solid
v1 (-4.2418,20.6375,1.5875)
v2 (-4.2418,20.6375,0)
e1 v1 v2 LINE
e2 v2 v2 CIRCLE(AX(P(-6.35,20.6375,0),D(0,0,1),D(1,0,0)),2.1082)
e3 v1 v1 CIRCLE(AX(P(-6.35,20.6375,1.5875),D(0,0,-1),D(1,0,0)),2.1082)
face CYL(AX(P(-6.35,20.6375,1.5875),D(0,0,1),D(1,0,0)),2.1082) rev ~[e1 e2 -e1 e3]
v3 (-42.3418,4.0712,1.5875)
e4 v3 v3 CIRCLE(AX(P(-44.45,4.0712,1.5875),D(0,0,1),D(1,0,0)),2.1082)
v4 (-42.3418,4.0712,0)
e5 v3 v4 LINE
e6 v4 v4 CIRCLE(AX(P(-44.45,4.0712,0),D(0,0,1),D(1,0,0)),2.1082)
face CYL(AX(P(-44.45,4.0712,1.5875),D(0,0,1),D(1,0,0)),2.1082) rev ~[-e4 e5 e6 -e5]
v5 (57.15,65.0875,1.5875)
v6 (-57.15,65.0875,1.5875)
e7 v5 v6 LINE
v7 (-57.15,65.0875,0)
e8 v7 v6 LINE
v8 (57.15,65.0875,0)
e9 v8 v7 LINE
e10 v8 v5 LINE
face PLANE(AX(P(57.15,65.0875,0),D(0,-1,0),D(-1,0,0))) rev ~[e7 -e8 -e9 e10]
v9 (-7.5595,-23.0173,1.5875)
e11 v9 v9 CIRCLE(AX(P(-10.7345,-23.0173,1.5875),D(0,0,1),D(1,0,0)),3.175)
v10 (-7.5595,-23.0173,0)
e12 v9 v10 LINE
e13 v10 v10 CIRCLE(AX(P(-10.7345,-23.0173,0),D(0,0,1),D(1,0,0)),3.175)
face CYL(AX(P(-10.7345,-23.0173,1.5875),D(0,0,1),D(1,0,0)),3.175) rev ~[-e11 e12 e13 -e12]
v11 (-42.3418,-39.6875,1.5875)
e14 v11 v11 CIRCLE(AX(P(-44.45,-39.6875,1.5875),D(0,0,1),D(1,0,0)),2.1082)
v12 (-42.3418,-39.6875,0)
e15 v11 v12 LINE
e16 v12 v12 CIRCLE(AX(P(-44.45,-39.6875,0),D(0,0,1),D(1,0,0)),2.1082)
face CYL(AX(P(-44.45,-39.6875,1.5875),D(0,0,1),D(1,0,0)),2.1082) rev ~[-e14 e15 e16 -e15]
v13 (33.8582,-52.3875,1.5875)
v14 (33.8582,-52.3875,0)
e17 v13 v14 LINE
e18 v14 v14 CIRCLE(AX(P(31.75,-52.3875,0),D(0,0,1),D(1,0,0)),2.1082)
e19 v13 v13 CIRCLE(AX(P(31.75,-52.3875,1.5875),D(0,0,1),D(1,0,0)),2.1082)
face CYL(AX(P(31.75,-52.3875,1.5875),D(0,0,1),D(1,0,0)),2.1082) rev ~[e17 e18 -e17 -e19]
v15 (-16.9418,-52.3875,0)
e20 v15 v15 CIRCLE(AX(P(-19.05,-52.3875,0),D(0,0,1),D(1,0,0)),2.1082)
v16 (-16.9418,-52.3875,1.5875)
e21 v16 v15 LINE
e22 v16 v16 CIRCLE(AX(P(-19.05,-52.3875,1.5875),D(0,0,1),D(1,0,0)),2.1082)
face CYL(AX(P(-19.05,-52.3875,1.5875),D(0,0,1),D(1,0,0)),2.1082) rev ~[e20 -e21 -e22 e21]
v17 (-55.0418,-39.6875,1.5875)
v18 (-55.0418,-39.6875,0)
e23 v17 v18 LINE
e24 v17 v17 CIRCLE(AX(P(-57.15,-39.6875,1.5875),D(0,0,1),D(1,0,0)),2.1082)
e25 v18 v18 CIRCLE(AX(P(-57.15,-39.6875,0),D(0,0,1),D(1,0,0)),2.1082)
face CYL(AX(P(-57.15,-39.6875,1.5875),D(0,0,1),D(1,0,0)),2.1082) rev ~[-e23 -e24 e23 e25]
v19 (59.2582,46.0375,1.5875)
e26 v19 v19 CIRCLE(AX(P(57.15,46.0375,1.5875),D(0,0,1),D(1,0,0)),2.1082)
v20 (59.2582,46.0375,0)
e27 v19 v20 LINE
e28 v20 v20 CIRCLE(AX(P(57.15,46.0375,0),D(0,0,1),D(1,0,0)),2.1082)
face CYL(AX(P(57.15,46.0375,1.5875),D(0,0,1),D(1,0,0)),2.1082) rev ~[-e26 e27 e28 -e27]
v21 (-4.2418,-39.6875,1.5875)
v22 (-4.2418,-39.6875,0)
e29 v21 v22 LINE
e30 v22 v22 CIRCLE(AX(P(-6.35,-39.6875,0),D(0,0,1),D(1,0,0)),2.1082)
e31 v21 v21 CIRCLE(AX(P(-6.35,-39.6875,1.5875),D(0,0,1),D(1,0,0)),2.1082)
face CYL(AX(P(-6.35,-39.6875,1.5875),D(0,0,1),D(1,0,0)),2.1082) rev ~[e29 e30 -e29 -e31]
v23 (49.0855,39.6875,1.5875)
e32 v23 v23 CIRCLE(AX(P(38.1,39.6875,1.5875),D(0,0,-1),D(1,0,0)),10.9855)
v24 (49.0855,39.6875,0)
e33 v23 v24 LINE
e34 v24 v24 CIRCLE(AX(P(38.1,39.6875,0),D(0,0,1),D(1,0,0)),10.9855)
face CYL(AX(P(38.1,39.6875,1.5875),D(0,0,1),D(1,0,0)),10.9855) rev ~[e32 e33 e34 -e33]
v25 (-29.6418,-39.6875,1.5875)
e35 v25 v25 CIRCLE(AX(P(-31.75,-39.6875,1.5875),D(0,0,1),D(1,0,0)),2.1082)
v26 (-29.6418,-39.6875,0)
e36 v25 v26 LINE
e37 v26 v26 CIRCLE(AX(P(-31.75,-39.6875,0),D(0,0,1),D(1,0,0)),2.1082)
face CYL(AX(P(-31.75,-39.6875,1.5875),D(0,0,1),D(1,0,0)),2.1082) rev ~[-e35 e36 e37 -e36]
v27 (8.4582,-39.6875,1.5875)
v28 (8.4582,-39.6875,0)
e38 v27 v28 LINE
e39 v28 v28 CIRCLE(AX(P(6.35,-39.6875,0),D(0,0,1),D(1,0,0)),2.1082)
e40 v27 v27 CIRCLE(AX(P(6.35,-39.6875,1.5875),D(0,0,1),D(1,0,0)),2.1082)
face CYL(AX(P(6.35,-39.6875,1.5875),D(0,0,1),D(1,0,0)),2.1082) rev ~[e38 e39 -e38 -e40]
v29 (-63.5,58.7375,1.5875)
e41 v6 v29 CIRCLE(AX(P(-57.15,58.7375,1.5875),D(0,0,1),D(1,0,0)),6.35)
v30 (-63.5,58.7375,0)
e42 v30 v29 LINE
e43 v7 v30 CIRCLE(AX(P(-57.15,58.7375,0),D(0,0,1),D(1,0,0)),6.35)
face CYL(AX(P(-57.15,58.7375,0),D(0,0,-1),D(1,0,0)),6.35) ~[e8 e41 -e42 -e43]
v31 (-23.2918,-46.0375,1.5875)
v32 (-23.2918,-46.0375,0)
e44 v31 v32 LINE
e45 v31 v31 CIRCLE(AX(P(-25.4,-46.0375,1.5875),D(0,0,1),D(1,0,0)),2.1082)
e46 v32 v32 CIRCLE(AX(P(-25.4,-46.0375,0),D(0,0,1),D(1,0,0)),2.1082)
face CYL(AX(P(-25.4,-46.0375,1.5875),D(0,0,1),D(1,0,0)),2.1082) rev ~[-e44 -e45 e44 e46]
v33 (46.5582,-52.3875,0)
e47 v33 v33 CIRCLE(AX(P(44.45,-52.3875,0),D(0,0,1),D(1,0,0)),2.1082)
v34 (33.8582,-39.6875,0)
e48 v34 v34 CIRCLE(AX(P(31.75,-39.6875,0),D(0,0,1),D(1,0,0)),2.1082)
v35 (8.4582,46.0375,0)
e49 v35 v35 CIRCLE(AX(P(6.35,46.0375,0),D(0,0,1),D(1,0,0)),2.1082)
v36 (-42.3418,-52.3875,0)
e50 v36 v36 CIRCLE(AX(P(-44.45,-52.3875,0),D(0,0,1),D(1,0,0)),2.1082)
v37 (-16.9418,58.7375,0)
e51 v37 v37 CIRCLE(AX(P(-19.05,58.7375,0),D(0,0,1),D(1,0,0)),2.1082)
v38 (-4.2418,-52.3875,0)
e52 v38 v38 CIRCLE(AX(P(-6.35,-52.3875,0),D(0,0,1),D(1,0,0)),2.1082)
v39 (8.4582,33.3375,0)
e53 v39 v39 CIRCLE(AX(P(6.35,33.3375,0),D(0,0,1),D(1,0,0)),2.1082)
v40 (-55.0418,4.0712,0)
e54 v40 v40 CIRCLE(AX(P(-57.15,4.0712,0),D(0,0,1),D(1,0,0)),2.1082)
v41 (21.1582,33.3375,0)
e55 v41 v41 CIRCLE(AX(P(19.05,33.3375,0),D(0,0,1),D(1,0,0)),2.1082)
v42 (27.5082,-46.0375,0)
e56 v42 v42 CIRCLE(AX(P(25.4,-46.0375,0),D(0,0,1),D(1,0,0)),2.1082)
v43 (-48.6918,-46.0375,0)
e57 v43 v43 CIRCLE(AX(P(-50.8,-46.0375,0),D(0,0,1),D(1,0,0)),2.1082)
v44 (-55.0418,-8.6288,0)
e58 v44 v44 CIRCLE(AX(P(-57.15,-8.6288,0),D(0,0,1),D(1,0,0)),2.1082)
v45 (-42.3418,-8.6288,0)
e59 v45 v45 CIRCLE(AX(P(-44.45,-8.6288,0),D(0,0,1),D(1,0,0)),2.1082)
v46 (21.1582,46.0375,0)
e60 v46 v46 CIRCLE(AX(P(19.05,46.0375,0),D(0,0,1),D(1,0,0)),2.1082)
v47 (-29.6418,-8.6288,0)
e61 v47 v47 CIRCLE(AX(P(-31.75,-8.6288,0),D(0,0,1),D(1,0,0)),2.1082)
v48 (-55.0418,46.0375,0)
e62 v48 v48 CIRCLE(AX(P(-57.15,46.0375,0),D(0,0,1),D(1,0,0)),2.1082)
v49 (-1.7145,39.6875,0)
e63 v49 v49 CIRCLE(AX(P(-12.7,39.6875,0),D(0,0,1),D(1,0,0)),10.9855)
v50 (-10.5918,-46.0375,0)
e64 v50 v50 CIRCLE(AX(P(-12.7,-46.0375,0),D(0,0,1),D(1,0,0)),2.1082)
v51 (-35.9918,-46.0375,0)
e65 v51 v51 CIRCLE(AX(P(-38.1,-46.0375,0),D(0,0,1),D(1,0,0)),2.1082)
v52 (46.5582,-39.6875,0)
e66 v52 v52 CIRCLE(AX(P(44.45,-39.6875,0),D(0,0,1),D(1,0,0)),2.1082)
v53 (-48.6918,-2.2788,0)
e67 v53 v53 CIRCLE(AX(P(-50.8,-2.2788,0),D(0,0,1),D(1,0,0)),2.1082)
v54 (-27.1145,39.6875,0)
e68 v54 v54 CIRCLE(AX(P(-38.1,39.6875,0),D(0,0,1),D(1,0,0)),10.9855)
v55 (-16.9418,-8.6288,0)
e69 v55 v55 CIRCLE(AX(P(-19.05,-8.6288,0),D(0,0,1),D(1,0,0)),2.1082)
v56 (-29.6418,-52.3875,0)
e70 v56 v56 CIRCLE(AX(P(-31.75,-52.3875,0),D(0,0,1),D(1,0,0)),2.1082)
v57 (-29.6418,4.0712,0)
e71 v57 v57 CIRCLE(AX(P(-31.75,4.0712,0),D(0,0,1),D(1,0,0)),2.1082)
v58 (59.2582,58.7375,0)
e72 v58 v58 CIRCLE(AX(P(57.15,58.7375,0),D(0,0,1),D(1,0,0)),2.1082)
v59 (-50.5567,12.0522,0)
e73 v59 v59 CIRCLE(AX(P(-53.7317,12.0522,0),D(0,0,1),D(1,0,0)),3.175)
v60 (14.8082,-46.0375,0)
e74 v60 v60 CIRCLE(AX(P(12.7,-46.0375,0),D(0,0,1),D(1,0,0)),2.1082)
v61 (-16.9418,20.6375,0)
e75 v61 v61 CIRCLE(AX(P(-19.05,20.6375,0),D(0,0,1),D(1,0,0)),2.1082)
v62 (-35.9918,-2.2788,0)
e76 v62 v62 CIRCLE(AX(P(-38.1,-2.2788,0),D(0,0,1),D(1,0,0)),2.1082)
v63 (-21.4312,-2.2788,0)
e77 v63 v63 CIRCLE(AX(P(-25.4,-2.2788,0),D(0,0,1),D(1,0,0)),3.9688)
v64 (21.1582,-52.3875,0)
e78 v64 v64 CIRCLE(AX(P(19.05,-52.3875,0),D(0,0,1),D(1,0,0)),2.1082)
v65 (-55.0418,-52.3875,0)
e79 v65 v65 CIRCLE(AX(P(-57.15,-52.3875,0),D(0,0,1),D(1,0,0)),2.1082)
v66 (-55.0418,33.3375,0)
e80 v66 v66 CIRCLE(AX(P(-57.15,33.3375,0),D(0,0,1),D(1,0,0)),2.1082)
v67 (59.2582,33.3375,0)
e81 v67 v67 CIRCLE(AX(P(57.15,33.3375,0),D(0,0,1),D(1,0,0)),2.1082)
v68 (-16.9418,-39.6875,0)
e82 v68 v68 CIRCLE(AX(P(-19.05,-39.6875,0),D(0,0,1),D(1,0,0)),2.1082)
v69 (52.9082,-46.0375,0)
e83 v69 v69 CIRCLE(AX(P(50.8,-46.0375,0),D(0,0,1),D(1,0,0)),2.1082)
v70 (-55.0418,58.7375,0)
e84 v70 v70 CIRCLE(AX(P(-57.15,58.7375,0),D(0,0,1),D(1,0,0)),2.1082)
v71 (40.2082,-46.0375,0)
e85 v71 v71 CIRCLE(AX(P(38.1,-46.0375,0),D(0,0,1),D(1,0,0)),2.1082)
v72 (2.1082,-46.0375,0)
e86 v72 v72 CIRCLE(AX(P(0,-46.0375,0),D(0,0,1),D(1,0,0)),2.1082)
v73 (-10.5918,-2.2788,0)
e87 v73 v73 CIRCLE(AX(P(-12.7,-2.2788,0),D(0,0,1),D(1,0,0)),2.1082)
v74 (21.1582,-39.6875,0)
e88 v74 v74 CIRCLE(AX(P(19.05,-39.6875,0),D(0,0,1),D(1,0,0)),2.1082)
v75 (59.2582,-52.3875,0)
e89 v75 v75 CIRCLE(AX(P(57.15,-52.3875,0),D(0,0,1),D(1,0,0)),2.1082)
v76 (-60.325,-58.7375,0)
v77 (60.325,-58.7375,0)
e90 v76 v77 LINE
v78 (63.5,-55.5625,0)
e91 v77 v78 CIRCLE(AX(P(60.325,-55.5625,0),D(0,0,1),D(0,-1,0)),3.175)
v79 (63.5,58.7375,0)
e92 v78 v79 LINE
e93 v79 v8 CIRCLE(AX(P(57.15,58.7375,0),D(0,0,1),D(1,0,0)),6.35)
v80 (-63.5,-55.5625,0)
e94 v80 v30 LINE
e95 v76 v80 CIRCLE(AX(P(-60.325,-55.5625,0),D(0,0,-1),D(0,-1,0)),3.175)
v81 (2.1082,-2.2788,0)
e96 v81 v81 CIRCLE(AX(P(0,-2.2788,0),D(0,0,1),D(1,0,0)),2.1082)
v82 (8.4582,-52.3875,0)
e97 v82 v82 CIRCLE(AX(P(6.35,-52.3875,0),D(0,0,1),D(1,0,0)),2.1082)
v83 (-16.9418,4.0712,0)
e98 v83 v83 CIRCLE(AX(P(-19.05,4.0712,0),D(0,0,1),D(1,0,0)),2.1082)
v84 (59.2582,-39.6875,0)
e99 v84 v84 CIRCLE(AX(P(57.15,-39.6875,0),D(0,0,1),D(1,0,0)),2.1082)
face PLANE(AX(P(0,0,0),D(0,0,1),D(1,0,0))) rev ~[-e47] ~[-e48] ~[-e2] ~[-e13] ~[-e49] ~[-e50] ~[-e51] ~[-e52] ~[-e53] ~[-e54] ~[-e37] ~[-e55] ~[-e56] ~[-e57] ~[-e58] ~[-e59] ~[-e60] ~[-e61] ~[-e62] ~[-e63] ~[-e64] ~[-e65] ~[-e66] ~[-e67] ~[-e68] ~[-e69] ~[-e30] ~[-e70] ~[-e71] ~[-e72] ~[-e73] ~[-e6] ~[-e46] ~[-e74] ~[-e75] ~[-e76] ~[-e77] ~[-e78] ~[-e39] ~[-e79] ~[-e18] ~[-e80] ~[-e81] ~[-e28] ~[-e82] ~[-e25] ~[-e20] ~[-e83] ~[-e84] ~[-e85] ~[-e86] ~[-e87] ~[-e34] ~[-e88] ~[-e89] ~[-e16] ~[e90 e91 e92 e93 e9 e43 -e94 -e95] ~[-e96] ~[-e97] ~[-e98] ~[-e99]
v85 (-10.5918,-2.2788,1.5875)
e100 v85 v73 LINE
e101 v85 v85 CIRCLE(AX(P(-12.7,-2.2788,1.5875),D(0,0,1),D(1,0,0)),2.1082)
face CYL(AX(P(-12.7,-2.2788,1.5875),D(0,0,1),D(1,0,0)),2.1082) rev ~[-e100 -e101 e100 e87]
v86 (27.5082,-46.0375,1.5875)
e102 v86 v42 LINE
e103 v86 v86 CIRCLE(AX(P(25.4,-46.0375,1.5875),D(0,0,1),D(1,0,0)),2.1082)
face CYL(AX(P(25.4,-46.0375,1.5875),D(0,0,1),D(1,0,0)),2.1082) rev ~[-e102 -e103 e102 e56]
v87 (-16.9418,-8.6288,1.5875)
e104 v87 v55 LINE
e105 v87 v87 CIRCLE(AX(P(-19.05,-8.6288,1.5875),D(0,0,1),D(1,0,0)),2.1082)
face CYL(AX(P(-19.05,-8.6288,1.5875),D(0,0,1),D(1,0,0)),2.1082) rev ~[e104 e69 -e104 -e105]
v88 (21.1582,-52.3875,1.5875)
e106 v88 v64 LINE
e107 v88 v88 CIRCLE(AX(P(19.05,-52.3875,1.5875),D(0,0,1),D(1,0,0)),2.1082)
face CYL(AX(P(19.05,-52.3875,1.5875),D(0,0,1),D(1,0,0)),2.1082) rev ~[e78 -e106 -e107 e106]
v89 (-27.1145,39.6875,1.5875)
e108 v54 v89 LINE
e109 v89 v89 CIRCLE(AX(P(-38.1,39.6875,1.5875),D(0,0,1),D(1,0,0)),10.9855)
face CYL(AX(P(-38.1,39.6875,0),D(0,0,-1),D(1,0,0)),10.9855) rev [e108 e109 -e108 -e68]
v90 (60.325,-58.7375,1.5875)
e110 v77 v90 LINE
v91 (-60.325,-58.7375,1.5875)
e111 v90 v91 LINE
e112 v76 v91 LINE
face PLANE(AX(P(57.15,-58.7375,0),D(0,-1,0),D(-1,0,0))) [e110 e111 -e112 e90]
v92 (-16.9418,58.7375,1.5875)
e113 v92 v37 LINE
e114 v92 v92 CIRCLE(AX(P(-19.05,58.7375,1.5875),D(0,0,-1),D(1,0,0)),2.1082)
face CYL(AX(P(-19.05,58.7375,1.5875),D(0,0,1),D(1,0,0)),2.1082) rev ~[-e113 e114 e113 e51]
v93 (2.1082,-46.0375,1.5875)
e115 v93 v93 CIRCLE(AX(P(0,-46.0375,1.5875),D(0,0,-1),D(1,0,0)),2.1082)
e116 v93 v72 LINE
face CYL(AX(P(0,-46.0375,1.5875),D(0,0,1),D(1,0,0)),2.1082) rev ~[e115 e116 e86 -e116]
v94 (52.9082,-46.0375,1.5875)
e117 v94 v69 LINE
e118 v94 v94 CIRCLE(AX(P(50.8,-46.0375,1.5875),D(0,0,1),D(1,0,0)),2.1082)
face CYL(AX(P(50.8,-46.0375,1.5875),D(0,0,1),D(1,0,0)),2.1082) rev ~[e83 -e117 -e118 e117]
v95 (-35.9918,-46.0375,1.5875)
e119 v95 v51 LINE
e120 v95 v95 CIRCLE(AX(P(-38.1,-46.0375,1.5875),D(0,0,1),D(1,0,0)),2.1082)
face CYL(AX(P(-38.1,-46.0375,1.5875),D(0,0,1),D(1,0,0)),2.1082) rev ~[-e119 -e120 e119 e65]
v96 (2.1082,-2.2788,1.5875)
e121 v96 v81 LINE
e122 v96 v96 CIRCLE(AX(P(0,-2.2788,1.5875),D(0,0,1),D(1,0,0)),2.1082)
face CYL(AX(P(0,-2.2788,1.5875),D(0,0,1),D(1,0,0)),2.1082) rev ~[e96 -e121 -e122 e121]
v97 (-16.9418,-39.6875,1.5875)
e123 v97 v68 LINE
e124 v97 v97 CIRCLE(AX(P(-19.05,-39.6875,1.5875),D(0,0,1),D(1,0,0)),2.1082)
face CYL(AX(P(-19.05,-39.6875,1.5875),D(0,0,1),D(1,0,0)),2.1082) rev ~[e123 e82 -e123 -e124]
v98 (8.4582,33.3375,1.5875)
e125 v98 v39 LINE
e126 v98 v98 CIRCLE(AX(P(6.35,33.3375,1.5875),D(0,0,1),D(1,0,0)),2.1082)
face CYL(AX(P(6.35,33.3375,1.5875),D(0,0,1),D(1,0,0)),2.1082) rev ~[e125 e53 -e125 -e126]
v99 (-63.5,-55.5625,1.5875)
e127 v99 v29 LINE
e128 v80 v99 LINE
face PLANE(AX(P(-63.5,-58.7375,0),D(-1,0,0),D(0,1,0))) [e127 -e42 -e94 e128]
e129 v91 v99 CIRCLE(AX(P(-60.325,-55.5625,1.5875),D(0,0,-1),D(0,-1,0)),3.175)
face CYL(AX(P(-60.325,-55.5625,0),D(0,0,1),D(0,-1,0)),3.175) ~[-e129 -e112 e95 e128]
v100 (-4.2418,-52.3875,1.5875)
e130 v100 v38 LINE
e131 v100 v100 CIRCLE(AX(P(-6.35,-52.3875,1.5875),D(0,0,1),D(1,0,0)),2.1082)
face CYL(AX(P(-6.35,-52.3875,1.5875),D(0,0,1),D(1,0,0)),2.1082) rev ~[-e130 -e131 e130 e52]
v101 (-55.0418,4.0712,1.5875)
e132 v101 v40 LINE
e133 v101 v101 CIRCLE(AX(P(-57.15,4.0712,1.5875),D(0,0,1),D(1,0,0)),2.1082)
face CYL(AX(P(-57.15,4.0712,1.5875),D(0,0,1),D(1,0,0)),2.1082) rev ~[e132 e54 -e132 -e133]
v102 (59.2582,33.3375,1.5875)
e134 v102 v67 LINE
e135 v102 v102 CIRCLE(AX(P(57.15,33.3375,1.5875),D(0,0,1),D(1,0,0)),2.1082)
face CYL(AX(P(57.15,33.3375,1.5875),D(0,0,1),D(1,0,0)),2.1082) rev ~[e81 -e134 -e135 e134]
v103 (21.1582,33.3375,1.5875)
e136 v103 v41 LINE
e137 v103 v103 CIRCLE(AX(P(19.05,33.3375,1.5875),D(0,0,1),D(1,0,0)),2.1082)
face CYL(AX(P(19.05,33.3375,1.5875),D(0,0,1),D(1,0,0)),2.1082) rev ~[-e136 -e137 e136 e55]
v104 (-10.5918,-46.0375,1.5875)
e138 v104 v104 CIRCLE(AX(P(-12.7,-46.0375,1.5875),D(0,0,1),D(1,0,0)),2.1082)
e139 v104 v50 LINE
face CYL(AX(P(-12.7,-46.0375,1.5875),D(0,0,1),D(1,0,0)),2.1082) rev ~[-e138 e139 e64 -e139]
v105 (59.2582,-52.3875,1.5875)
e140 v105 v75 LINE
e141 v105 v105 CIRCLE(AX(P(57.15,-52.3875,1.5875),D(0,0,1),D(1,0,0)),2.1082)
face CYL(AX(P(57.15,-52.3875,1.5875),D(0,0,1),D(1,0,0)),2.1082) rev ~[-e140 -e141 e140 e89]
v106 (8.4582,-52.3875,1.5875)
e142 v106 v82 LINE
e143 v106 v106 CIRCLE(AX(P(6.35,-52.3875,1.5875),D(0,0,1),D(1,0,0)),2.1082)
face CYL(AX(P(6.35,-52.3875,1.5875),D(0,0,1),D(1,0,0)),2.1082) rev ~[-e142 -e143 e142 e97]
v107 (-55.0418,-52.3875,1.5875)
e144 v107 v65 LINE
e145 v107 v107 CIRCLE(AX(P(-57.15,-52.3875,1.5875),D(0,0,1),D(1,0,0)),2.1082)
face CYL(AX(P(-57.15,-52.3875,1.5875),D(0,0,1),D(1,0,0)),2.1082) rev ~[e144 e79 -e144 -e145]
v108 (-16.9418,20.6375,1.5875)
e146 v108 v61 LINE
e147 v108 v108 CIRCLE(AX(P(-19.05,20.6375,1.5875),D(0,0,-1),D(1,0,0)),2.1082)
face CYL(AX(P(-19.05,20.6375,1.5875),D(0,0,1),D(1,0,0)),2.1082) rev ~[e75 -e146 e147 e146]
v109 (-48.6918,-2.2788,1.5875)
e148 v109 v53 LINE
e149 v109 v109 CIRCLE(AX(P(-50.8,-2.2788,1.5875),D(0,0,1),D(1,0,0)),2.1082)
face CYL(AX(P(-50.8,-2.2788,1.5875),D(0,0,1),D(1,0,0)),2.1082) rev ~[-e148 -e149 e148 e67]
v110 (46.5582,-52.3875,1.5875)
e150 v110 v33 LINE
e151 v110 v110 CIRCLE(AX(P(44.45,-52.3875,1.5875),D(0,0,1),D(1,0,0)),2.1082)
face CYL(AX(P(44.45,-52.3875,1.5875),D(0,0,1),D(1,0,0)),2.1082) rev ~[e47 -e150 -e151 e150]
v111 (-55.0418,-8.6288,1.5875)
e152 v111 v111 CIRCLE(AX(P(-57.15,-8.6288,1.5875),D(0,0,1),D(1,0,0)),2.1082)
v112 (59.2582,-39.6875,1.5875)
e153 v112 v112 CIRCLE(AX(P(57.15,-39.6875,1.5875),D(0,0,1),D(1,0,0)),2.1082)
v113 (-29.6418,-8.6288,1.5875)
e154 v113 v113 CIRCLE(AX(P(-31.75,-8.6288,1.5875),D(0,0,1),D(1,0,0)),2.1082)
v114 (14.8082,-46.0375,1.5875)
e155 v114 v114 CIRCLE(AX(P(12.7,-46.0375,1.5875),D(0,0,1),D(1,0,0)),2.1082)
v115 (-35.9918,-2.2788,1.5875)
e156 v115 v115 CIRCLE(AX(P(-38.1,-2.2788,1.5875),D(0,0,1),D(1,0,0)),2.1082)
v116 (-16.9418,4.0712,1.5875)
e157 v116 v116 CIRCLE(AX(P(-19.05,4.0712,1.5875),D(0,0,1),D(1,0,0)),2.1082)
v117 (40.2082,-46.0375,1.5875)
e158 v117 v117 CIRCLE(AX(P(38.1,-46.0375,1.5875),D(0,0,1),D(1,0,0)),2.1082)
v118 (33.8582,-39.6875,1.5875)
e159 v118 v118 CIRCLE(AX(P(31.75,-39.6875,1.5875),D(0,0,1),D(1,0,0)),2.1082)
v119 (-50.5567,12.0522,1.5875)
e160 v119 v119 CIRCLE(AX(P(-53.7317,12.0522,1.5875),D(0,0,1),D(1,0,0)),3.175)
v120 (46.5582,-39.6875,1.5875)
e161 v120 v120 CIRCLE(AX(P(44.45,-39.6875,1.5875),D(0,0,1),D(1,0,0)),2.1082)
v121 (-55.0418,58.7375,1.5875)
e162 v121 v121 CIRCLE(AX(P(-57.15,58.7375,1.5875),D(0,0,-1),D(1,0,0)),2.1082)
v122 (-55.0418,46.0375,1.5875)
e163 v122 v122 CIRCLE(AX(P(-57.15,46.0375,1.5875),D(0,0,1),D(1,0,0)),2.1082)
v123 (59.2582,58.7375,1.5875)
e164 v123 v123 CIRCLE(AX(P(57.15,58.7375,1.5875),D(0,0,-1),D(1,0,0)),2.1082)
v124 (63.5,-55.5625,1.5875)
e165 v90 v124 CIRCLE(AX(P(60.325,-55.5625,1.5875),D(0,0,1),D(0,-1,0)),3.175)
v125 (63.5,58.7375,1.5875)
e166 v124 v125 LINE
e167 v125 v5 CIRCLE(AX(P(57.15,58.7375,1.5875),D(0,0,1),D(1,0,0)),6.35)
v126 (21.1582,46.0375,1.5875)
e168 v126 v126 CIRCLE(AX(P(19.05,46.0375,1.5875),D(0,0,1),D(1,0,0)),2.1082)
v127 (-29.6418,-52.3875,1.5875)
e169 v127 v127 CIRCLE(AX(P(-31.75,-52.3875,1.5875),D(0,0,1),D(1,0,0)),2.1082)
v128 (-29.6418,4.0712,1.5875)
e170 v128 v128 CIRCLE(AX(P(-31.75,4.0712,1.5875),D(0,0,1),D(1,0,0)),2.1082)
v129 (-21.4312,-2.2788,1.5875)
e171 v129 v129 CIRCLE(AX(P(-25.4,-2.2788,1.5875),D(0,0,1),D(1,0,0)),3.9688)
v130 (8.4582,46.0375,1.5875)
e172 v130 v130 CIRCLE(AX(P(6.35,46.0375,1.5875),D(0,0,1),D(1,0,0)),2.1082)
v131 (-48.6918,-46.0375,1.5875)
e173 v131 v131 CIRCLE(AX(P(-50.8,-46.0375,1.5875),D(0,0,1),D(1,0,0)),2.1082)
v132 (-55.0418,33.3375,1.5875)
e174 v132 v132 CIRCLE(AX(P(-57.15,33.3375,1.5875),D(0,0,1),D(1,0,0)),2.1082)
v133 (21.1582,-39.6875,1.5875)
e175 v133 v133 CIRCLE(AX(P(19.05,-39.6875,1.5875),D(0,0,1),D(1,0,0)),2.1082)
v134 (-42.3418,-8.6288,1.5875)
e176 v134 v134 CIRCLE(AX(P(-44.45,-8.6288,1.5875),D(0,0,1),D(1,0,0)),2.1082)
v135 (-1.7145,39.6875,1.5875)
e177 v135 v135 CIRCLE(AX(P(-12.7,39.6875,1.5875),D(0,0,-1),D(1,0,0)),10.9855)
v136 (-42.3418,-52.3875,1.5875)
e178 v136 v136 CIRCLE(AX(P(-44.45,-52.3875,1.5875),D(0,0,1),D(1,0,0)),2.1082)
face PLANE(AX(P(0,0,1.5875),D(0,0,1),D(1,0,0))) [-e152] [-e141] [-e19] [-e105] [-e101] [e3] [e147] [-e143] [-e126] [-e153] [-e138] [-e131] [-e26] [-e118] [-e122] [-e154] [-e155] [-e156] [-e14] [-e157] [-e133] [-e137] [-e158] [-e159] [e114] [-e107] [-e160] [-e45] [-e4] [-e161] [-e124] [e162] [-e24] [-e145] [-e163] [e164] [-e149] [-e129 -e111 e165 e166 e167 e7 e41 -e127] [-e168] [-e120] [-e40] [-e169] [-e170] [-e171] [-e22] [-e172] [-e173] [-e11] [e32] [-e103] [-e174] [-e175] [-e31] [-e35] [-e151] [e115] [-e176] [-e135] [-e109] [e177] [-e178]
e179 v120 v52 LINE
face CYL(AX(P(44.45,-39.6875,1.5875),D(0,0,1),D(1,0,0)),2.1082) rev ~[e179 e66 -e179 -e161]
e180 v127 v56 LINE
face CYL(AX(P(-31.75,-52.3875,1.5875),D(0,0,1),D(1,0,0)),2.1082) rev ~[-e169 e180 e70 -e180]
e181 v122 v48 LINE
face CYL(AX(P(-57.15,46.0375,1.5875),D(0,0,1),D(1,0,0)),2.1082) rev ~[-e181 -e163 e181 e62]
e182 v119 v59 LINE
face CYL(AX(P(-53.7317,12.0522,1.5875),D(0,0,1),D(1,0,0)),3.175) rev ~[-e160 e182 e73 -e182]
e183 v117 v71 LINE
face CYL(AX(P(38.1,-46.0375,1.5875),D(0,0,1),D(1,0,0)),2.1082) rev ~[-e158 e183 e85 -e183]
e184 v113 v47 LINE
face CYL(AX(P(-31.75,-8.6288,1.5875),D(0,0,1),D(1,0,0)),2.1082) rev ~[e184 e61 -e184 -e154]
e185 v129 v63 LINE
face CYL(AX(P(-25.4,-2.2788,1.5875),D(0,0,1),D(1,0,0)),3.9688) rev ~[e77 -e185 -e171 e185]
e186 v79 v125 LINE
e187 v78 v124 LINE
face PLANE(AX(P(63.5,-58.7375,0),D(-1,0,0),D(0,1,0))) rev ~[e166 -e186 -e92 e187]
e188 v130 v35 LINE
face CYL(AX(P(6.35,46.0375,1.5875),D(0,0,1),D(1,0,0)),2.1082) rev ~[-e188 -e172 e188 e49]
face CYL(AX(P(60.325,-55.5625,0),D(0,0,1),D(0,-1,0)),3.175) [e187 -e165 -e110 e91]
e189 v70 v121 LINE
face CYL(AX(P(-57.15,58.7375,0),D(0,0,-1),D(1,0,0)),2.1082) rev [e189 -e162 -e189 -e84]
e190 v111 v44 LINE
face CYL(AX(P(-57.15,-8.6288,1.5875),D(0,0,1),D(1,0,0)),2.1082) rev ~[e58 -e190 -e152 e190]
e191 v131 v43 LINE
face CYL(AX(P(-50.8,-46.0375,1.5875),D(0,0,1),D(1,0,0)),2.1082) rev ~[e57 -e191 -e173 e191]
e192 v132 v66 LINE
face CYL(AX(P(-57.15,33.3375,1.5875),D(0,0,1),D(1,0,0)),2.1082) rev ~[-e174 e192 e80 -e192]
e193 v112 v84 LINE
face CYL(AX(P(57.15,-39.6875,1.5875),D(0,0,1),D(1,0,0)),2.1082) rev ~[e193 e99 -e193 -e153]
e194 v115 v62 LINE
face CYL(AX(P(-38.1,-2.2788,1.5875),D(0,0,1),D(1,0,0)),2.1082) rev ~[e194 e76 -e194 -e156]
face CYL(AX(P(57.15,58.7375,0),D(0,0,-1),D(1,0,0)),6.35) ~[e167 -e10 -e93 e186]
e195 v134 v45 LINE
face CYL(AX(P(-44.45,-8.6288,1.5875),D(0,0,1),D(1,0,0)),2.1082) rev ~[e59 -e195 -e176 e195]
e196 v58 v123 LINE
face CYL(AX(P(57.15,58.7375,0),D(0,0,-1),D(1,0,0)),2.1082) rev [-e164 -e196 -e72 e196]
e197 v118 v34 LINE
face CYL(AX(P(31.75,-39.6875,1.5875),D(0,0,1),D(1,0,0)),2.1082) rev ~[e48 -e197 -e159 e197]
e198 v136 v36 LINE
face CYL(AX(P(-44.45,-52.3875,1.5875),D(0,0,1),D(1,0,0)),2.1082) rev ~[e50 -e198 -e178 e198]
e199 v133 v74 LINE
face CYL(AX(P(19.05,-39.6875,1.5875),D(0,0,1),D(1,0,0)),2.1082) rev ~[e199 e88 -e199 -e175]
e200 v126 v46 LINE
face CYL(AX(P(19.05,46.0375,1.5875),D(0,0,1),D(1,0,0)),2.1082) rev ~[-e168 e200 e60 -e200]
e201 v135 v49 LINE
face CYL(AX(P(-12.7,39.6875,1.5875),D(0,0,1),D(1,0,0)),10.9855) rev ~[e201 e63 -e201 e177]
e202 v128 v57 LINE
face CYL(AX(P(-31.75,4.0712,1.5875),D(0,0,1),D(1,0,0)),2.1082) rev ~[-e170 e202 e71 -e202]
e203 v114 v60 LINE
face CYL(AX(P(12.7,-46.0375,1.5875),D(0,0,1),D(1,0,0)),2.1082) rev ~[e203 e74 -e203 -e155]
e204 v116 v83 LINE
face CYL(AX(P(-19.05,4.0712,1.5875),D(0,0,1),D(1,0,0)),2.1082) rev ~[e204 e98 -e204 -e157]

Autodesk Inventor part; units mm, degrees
ref_plane "YZ Plane" through (0, 0, 0) normal (1, 0, 0) x (0, 1, 0)
ref_plane "XZ Plane" through (0, 0, 0) normal (0, 1, 0) x (-1, 0, 0)
ref_plane "XY Plane" through (0, 0, 0) normal (0, 0, 1) x (1, 0, 0)
sketch "Sketch1" plane through (0, 0, 0) normal (0, 0, 1) x (1, 0, 0)
  line L0 (57.15, -58.7375) -> (-57.15, -58.7375)
  line L1 (-57.15, -58.7375) -> (-57.15, 58.7375)
  line L2 (-57.15, 58.7375) -> (57.15, 58.7375)
  line L3 (57.15, 58.7375) -> (57.15, -58.7375)
  line L4 (57.15, -58.7375) -> (-57.15, 58.7375) construction
  line L5 (-57.15, -58.7375) -> (57.15, 58.7375) construction
  line L6 (-57.15, 58.7375) -> (-19.05, 58.7375)
  line L7 (-19.05, 58.7375) -> (-19.05, 20.6375)
  line L8 (-19.05, 20.6375) -> (-57.15, 20.6375)
  line L9 (-57.15, 20.6375) -> (-57.15, 58.7375)
  circle A0 centre (-38.1, 39.6875) radius 19.05
  circle A1 centre (-57.15, 58.7375) radius 6.35
  circle A2 centre (57.15, 58.7375) radius 6.35
  line L10 (-57.15, -58.7375) -> (-63.5, -58.7375)
  line L11 (-63.5, -58.7375) -> (-63.5, 58.7375)
  line L12 (57.15, -58.7375) -> (63.5, -58.7375)
  line L13 (63.5, -58.7375) -> (63.5, 58.7375)
  line L14 (57.15, 65.0875) -> (-57.15, 65.0875)
  circle A3 centre (-38.1, 39.6875) radius 10.9855
  circle A4 centre (-57.15, 58.7375) radius 2.1082
  circle A5 centre (57.15, 58.7375) radius 2.1082
  point P0 (0, 0)
  dimension "d0" = 114.3
  dimension "d1" = 117.475
  dimension "d2" = 38.1
  dimension "d3" = 38.1
  dimension "d4" = 12.7
  dimension "d5" = 12.7
  dimension "d8" = 21.971
  dimension "d9" = 4.2164
  dimension "d10" = 4.2164
extrude "Extrusion1" add sketch "Sketch1" along normal blind 1.5875 contours L0 L1 L8 L7 L2 A2 L3 | L3 A2 L13 L12 | L10 L11 A1 L1 | A2 L2 A5 L3 | L3 A5 L2 A2 | L1 A0 L8 | L2 A1 L14 A2 | L1 A1 L2 A0 | A0 | A0 L7 L8 | A1 L2 A4 L1 | L7 A0 L2 | L1 A4 L2 A1
sketch "Sketch2" plane through (0, 0, 1.5875) normal (0, 0, 1) x (1, 0, 0)
  circle A0 centre (-38.1, 39.6875) radius 10.9855 projected
  line L0 (-38.1, 39.6875) -> (63.5, 39.6875)
  line L1 (63.5, -58.7375) -> (63.5, 58.7375) projected
  circle A1 centre (-38.1, 39.6875) radius 6.35
  circle A2 centre (-12.7, 39.6875) radius 19.05
  circle A3 centre (38.1, 39.6875) radius 31.75
  circle A4 centre (-12.7, 39.6875) radius 10.9855
  circle A5 centre (38.1, 39.6875) radius 10.9855
  line L2 (-63.5, 58.7375) -> (-63.5, -58.7375) projected
  line L3 (-38.1, 39.6875) -> (-12.7, 39.6875)
  line L4 (57.15, 65.0875) -> (-57.15, 65.0875) projected
  line L5 (-63.5, -58.7375) -> (63.5, -58.7375) projected
  line L6 (0, -58.7375) -> (0, 65.0875)
  circle A6 centre (0, -46.0375) radius 19.05
  circle A7 centre (0, -46.0375) radius 2.1082
  point P0 (0, 0)
  dimension "d13" = 12.7
  dimension "d14" = 38.1
  dimension "d15" = 63.5
  dimension "d16" = 21.971
  dimension "d17" = 21.971
  dimension "d21" = 38.1
  dimension "d22" = 12.7
  dimension "d23" = 4.2164
extrude "Extrusion2" cut sketch "Sketch2" against normal blind 1.5875 contours A4 L0 | L0 A4 | A5 L0 | L0 A5 | A7 L6 | L6 A7
sketch "Sketch10" plane through (0, 0, 1.5875) normal (0, 0, 1) x (1, 0, 0)
  circle A0 centre (0, -46.0375) radius 2.1082 projected
  circle A1 centre (0, -46.0375) radius 19.05
  line L0 (0, -46.0375) -> (-10.7345, -23.0173)
  circle A2 centre (-10.7345, -23.0173) radius 6.35
  line L1 (57.15, 65.0875) -> (-57.15, 65.0875) projected
  line L2 (-63.5, -58.7375) -> (63.5, -58.7375) projected
  line L3 (0, -58.7375) -> (0, 65.0875)
  circle A3 centre (-25.4, -2.2788) radius 19.05
  line L4 (-25.4, 65.0875) -> (-25.4, -58.7375)
  circle A4 centre (-38.1, 39.6875) radius 10.9855 projected
  circle A5 centre (-38.1, 39.6875) radius 19.05
  circle A6 centre (-53.7317, 12.0522) radius 12.7
  point P0 (0, 0)
  dimension "d121" = 38.1
  dimension "d122" = 25.4
  dimension "d123" = 25
  dimension "d124" = 38.1
  dimension "d125" = 25.4
  dimension "d126" = 38.1
  dimension "d127" = 25.4
sketch "Sketch11" plane through (0, 0, 1.5875) normal (0, 0, 1) x (1, 0, 0)
  circle A0 centre (-10.7345, -23.0173) radius 6.35 projected
  circle A1 centre (-25.4, -2.2788) radius 19.05 projected
  circle A2 centre (-53.7317, 12.0522) radius 12.7 projected
  circle A3 centre (-53.7317, 12.0522) radius 3.175
  circle A4 centre (-25.4, -2.2788) radius 3.9688
  circle A5 centre (-10.7345, -23.0173) radius 3.175
  point P0 (0, 0)
  dimension "d128" = 6.35
  dimension "d129" = 7.9375
  dimension "d130" = 6.35
extrude "Extrusion9" cut sketch "Sketch11" against normal blind 25.4 contours A3 | A4 | A5
sketch "Sketch12" plane through (0, 0, 1.5875) normal (0, 0, 1) x (1, 0, 0)
  circle A0 centre (57.15, -52.3875) radius 2.1082
  circle A1 centre (0, -46.0375) radius 2.1082 projected
  line L0 (-63.5, -58.7375) -> (63.5, -58.7375) projected
  line L1 (-63.5, -58.7375) -> (63.5, -58.7375) projected
  line L2 (63.5, -58.7375) -> (63.5, 58.7375) projected
  circle A2 centre (44.45, -52.3875) radius 2.1082
  circle A3 centre (31.75, -52.3875) radius 2.1082
  circle A4 centre (19.05, -52.3875) radius 2.1082
  circle A5 centre (6.35, -52.3875) radius 2.1082
  circle A6 centre (-6.35, -52.3875) radius 2.1082
  circle A7 centre (-19.05, -52.3875) radius 2.1082
  circle A8 centre (-31.75, -52.3875) radius 2.1082
  circle A9 centre (-44.45, -52.3875) radius 2.1082
  circle A10 centre (-57.15, -52.3875) radius 2.1082
  circle A11 centre (57.15, -39.6875) radius 2.1082
  circle A12 centre (44.45, -39.6875) radius 2.1082
  circle A13 centre (31.75, -39.6875) radius 2.1082
  circle A14 centre (19.05, -39.6875) radius 2.1082
  circle A15 centre (6.35, -39.6875) radius 2.1082
  circle A16 centre (-6.35, -39.6875) radius 2.1082
  circle A17 centre (-19.05, -39.6875) radius 2.1082
  circle A18 centre (-31.75, -39.6875) radius 2.1082
  circle A19 centre (-44.45, -39.6875) radius 2.1082
  circle A20 centre (-57.15, -39.6875) radius 2.1082
  point P0 (0, 0)
  dimension "d133" = 4.2164
  dimension "d134" = 6.35
  dimension "d135" = 57.15
  dimension "d138" = 12.7
  dimension "d141" = 12.7
extrude "Extrusion10" cut sketch "Sketch12" against normal blind 25.4
sketch "Sketch14" plane through (0, 0, 1.5875) normal (0, 0, 1) x (1, 0, 0)
  circle A0 centre (-25.4, -2.2788) radius 3.9687 projected
  circle A1 centre (-57.15, -8.6288) radius 2.1082
  line L0 (-63.5, 58.7375) -> (-63.5, -58.7375) projected
  line L1 (-63.5, -58.7375) -> (63.5, -58.7375) projected
  circle A2 centre (-57.15, 4.0712) radius 2.1082
  circle A3 centre (-44.45, -8.6288) radius 2.1082
  circle A4 centre (-44.45, 4.0712) radius 2.1082
  circle A5 centre (-31.75, -8.6288) radius 2.1082
  circle A6 centre (-31.75, 4.0712) radius 2.1082
  circle A7 centre (-19.05, -8.6288) radius 2.1082
  circle A8 centre (-19.05, 4.0712) radius 2.1082
  circle A9 centre (-6.35, -8.6288) radius 2.1082
  circle A10 centre (-6.35, 4.0712) radius 2.1082
  circle A11 centre (6.35, -8.6288) radius 2.1082
  circle A12 centre (6.35, 4.0712) radius 2.1082
  circle A13 centre (19.05, -8.6288) radius 2.1082
  circle A14 centre (19.05, 4.0712) radius 2.1082
  circle A15 centre (31.75, -8.6288) radius 2.1082
  circle A16 centre (31.75, 4.0712) radius 2.1082
  circle A17 centre (44.45, -8.6288) radius 2.1082
  circle A18 centre (44.45, 4.0712) radius 2.1082
  circle A19 centre (57.15, -8.6288) radius 2.1082
  circle A20 centre (57.15, 4.0712) radius 2.1082
  point P0 (0, 0)
  dimension "d159" = 4.2164
  dimension "d160" = 6.35
  dimension "d161" = 31.75
  dimension "d164" = 12.7
  dimension "d167" = 12.7
extrude "Extrusion12" cut sketch "Sketch14" against normal blind 25.4 contours A0 | A1 | A2 | A3 | A4 | A5 | A6 | A7 | A8
sketch "Sketch15" plane through (0, 0, 1.5875) normal (0, 0, 1) x (1, 0, 0)
  circle A0 centre (-57.15, 33.3375) radius 2.1082
  line L0 (57.15, 65.0875) -> (-57.15, 65.0875) projected
  line L1 (-63.5, 58.7375) -> (-63.5, -58.7375) projected
  circle A1 centre (-57.15, 46.0375) radius 2.1082
  circle A2 centre (-44.45, 33.3375) radius 2.1082
  circle A3 centre (-44.45, 46.0375) radius 2.1082
  circle A4 centre (-31.75, 33.3375) radius 2.1082
  circle A5 centre (-31.75, 46.0375) radius 2.1082
  circle A6 centre (-19.05, 33.3375) radius 2.1082
  circle A7 centre (-19.05, 46.0375) radius 2.1082
  circle A8 centre (-6.35, 33.3375) radius 2.1082
  circle A9 centre (-6.35, 46.0375) radius 2.1082
  circle A10 centre (6.35, 33.3375) radius 2.1082
  circle A11 centre (6.35, 46.0375) radius 2.1082
  circle A12 centre (19.05, 33.3375) radius 2.1082
  circle A13 centre (19.05, 46.0375) radius 2.1082
  circle A14 centre (31.75, 33.3375) radius 2.1082
  circle A15 centre (31.75, 46.0375) radius 2.1082
  circle A16 centre (44.45, 33.3375) radius 2.1082
  circle A17 centre (44.45, 46.0375) radius 2.1082
  circle A18 centre (57.15, 33.3375) radius 2.1082
  circle A19 centre (57.15, 46.0375) radius 2.1082
  point P0 (0, 0)
  point P1 (-38.1, 39.6875)
  dimension "d172" = 4.2164
  dimension "d173" = 6.35
  dimension "d174" = 19.05
  dimension "d177" = 12.7
  dimension "d180" = 12.7
extrude "Extrusion13" cut sketch "Sketch15" against normal blind 25.4 contours A0 | A1 | A10 | A11 | A12 | A13 | A18 | A19
sketch "Sketch16" plane through (0, 0, 1.5875) normal (0, 0, 1) x (1, 0, 0)
  circle A0 centre (-25.4, -2.2788) radius 2.1082
  circle A1 centre (0, -46.0375) radius 2.1082
  line L0 (-63.5, -58.7375) -> (63.5, -58.7375) projected
  circle A2 centre (12.7, -46.0375) radius 2.1082
  circle A3 centre (-12.7, -2.2788) radius 2.1082
  circle A4 centre (25.4, -46.0375) radius 2.1082
  circle A5 centre (0, -2.2788) radius 2.1082
  point P0 (0, 0)
  dimension "d185" = 4.2164
  dimension "d186" = 4.2164
  dimension "d189" = 12.7
extrude "Extrusion14" cut sketch "Sketch16" against normal blind 25.4 contours A2 | A3 | A4 | A5
sketch "Sketch17" plane through (0, 0, 1.5875) normal (0, 0, 1) x (1, 0, 0)
  circle A0 centre (0, -46.0375) radius 2.1082
  circle A1 centre (-25.4, -2.2788) radius 2.1082
  line L0 (-63.5, 58.7375) -> (-63.5, -58.7375) projected
  circle A2 centre (0, -46.0375) radius 19.05 projected
  line L1 (-63.5, -58.7375) -> (63.5, -58.7375) projected
  circle A3 centre (-38.1, -2.2788) radius 2.1082
  circle A4 centre (-50.8, -2.2788) radius 2.1082
  circle A5 centre (-12.7, -2.2788) radius 2.1082
  circle A6 centre (-25.4, -2.2788) radius 2.1082
  circle A7 centre (-38.1, -2.2788) radius 2.1082
  circle A8 centre (0, -2.2788) radius 2.1082
  circle A9 centre (-12.7, -2.2788) radius 2.1082
  circle A10 centre (-25.4, -2.2788) radius 2.1082
  circle A11 centre (12.7, -2.2788) radius 2.1082
  circle A12 centre (0, -2.2788) radius 2.1082
  circle A13 centre (-12.7, -2.2788) radius 2.1082
  circle A14 centre (25.4, -2.2788) radius 2.1082
  circle A15 centre (12.7, -2.2788) radius 2.1082
  circle A16 centre (0, -2.2788) radius 2.1082
  circle A17 centre (38.1, -2.2788) radius 2.1082
  circle A18 centre (25.4, -2.2788) radius 2.1082
  circle A19 centre (12.7, -2.2788) radius 2.1082
  circle A20 centre (50.8, -2.2788) radius 2.1082
  circle A21 centre (38.1, -2.2788) radius 2.1082
  circle A22 centre (25.4, -2.2788) radius 2.1082
  circle A23 centre (12.7, -46.0375) radius 2.1082
  circle A24 centre (25.4, -46.0375) radius 2.1082
  circle A25 centre (38.1, -46.0375) radius 2.1082
  circle A26 centre (50.8, -46.0375) radius 2.1082
  circle A27 centre (-12.7, -46.0375) radius 2.1082
  circle A28 centre (0, -46.0375) radius 2.1082
  circle A29 centre (12.7, -46.0375) radius 2.1082
  circle A30 centre (25.4, -46.0375) radius 2.1082
  circle A31 centre (38.1, -46.0375) radius 2.1082
  circle A32 centre (-25.4, -46.0375) radius 2.1082
  circle A33 centre (-12.7, -46.0375) radius 2.1082
  circle A34 centre (0, -46.0375) radius 2.1082
  circle A35 centre (12.7, -46.0375) radius 2.1082
  circle A36 centre (25.4, -46.0375) radius 2.1082
  circle A37 centre (-38.1, -46.0375) radius 2.1082
  circle A38 centre (-25.4, -46.0375) radius 2.1082
  circle A39 centre (-12.7, -46.0375) radius 2.1082
  circle A40 centre (0, -46.0375) radius 2.1082
  circle A41 centre (12.7, -46.0375) radius 2.1082
  circle A42 centre (-50.8, -46.0375) radius 2.1082
  circle A43 centre (-38.1, -46.0375) radius 2.1082
  circle A44 centre (-25.4, -46.0375) radius 2.1082
  circle A45 centre (-12.7, -46.0375) radius 2.1082
  circle A46 centre (0, -46.0375) radius 2.1082
  point P0 (0, 0)
  dimension "d196" = 4.2164
  dimension "d197" = 4.2164
  dimension "d200" = 12.7
  dimension "d203" = 12.7
  dimension "d208" = 12.7
  dimension "d211" = 12.7
extrude "Extrusion15" cut sketch "Sketch17" against normal blind 25.4 contours A3 | A4 | A25 | A26 | A27 | A32 | A37 | A42
sketch "Sketch22" plane through (0, 0, 1.5875) normal (0, 0, 1) x (1, 0, 0)
  circle A0 centre (-38.1, 39.6875) radius 10.9855 projected
  line L0 (-57.15, 20.6375) -> (-19.05, 20.6375)
  line L1 (-19.05, 20.6375) -> (-19.05, 58.7375)
  line L2 (-19.05, 58.7375) -> (-57.15, 58.7375)
  line L3 (-57.15, 58.7375) -> (-57.15, 20.6375)
  line L4 (-57.15, 20.6375) -> (-19.05, 58.7375) construction
  line L5 (-19.05, 20.6375) -> (-57.15, 58.7375) construction
  circle A1 centre (-19.05, 58.7375) radius 2.1082
  circle A2 centre (-19.05, 20.6375) radius 2.1082
  circle A3 centre (-53.7317, 12.0522) radius 3.175 projected
  circle A4 centre (-6.35, -39.6875) radius 2.1082 projected
  circle A5 centre (-57.15, 33.3375) radius 2.1082 projected
  circle A6 centre (-57.15, -23.0173) radius 2.1082
  circle A7 centre (-6.35, 20.6375) radius 2.1082
  circle A8 centre (-12.7, 39.6875) radius 10.9855 projected
  circle A9 centre (-12.7, 39.6875) radius 19.05
  circle A10 centre (-38.1, 39.6875) radius 19.05
  circle A11 centre (-10.7345, -23.0173) radius 3.175 projected
  circle A12 centre (-19.05, 4.0712) radius 2.1082 projected
  line L6 (-31.75, 20.6375) -> (6.35, 20.6375)
  line L7 (6.35, 20.6375) -> (6.35, 58.7375)
  line L8 (6.35, 58.7375) -> (-31.75, 58.7375)
  line L9 (-31.75, 58.7375) -> (-31.75, 20.6375)
  line L10 (-31.75, 20.6375) -> (6.35, 58.7375) construction
  line L11 (6.35, 20.6375) -> (-31.75, 58.7375) construction
  circle A13 centre (-12.7, 39.6875) radius 12.4333
  point P0 (0, 0)
  dimension "d264" = 38.1
  dimension "d265" = 4.2164
  dimension "d266" = 4.2164
  dimension "d267" = 4.2164
  dimension "d268" = 4.2164
  dimension "d269" = 38.1
  dimension "d270" = 38.1
  dimension "d271" = 0
  dimension "d274" = 38.1
  dimension "d275" = 38.1
  dimension "d276" = 24.8666
  dimension "d277" = 38.1
extrude "Extrusion19" cut sketch "Sketch22" against normal blind 25.4 contours A9 L1 A1 | A1 L2 L1 A9 | A9 L1 L0 A2 | A2 L1 A9 | A1 L8 L2 | L1 A9 A1 | L1 L8 A1 A9 | A2 A9 L1 | L0 L6 A2 | A9 A2 L6 L1 | A9 A7 L6 | A7 A9 | L6 A7 | A6 picked at (-6.6485, 20.9034)
fillet "Fillet3" radius 3.175 2 edges at (63.5, -58.7375, 0.7937) (-63.5, -58.7375, 0.7937)
sketch "Sketch23" plane through (0, 0, 1.5875) normal (0, 0, 1) x (1, 0, 0)
  circle A0 centre (-57.15, -23.0173) radius 2.1082 projected
  point P0 (0, 0)
extrude "Extrusion20" add sketch "Sketch23" against normal blind 1.5875
properties part number "POM 1" material "Acetal Resin, Black"
